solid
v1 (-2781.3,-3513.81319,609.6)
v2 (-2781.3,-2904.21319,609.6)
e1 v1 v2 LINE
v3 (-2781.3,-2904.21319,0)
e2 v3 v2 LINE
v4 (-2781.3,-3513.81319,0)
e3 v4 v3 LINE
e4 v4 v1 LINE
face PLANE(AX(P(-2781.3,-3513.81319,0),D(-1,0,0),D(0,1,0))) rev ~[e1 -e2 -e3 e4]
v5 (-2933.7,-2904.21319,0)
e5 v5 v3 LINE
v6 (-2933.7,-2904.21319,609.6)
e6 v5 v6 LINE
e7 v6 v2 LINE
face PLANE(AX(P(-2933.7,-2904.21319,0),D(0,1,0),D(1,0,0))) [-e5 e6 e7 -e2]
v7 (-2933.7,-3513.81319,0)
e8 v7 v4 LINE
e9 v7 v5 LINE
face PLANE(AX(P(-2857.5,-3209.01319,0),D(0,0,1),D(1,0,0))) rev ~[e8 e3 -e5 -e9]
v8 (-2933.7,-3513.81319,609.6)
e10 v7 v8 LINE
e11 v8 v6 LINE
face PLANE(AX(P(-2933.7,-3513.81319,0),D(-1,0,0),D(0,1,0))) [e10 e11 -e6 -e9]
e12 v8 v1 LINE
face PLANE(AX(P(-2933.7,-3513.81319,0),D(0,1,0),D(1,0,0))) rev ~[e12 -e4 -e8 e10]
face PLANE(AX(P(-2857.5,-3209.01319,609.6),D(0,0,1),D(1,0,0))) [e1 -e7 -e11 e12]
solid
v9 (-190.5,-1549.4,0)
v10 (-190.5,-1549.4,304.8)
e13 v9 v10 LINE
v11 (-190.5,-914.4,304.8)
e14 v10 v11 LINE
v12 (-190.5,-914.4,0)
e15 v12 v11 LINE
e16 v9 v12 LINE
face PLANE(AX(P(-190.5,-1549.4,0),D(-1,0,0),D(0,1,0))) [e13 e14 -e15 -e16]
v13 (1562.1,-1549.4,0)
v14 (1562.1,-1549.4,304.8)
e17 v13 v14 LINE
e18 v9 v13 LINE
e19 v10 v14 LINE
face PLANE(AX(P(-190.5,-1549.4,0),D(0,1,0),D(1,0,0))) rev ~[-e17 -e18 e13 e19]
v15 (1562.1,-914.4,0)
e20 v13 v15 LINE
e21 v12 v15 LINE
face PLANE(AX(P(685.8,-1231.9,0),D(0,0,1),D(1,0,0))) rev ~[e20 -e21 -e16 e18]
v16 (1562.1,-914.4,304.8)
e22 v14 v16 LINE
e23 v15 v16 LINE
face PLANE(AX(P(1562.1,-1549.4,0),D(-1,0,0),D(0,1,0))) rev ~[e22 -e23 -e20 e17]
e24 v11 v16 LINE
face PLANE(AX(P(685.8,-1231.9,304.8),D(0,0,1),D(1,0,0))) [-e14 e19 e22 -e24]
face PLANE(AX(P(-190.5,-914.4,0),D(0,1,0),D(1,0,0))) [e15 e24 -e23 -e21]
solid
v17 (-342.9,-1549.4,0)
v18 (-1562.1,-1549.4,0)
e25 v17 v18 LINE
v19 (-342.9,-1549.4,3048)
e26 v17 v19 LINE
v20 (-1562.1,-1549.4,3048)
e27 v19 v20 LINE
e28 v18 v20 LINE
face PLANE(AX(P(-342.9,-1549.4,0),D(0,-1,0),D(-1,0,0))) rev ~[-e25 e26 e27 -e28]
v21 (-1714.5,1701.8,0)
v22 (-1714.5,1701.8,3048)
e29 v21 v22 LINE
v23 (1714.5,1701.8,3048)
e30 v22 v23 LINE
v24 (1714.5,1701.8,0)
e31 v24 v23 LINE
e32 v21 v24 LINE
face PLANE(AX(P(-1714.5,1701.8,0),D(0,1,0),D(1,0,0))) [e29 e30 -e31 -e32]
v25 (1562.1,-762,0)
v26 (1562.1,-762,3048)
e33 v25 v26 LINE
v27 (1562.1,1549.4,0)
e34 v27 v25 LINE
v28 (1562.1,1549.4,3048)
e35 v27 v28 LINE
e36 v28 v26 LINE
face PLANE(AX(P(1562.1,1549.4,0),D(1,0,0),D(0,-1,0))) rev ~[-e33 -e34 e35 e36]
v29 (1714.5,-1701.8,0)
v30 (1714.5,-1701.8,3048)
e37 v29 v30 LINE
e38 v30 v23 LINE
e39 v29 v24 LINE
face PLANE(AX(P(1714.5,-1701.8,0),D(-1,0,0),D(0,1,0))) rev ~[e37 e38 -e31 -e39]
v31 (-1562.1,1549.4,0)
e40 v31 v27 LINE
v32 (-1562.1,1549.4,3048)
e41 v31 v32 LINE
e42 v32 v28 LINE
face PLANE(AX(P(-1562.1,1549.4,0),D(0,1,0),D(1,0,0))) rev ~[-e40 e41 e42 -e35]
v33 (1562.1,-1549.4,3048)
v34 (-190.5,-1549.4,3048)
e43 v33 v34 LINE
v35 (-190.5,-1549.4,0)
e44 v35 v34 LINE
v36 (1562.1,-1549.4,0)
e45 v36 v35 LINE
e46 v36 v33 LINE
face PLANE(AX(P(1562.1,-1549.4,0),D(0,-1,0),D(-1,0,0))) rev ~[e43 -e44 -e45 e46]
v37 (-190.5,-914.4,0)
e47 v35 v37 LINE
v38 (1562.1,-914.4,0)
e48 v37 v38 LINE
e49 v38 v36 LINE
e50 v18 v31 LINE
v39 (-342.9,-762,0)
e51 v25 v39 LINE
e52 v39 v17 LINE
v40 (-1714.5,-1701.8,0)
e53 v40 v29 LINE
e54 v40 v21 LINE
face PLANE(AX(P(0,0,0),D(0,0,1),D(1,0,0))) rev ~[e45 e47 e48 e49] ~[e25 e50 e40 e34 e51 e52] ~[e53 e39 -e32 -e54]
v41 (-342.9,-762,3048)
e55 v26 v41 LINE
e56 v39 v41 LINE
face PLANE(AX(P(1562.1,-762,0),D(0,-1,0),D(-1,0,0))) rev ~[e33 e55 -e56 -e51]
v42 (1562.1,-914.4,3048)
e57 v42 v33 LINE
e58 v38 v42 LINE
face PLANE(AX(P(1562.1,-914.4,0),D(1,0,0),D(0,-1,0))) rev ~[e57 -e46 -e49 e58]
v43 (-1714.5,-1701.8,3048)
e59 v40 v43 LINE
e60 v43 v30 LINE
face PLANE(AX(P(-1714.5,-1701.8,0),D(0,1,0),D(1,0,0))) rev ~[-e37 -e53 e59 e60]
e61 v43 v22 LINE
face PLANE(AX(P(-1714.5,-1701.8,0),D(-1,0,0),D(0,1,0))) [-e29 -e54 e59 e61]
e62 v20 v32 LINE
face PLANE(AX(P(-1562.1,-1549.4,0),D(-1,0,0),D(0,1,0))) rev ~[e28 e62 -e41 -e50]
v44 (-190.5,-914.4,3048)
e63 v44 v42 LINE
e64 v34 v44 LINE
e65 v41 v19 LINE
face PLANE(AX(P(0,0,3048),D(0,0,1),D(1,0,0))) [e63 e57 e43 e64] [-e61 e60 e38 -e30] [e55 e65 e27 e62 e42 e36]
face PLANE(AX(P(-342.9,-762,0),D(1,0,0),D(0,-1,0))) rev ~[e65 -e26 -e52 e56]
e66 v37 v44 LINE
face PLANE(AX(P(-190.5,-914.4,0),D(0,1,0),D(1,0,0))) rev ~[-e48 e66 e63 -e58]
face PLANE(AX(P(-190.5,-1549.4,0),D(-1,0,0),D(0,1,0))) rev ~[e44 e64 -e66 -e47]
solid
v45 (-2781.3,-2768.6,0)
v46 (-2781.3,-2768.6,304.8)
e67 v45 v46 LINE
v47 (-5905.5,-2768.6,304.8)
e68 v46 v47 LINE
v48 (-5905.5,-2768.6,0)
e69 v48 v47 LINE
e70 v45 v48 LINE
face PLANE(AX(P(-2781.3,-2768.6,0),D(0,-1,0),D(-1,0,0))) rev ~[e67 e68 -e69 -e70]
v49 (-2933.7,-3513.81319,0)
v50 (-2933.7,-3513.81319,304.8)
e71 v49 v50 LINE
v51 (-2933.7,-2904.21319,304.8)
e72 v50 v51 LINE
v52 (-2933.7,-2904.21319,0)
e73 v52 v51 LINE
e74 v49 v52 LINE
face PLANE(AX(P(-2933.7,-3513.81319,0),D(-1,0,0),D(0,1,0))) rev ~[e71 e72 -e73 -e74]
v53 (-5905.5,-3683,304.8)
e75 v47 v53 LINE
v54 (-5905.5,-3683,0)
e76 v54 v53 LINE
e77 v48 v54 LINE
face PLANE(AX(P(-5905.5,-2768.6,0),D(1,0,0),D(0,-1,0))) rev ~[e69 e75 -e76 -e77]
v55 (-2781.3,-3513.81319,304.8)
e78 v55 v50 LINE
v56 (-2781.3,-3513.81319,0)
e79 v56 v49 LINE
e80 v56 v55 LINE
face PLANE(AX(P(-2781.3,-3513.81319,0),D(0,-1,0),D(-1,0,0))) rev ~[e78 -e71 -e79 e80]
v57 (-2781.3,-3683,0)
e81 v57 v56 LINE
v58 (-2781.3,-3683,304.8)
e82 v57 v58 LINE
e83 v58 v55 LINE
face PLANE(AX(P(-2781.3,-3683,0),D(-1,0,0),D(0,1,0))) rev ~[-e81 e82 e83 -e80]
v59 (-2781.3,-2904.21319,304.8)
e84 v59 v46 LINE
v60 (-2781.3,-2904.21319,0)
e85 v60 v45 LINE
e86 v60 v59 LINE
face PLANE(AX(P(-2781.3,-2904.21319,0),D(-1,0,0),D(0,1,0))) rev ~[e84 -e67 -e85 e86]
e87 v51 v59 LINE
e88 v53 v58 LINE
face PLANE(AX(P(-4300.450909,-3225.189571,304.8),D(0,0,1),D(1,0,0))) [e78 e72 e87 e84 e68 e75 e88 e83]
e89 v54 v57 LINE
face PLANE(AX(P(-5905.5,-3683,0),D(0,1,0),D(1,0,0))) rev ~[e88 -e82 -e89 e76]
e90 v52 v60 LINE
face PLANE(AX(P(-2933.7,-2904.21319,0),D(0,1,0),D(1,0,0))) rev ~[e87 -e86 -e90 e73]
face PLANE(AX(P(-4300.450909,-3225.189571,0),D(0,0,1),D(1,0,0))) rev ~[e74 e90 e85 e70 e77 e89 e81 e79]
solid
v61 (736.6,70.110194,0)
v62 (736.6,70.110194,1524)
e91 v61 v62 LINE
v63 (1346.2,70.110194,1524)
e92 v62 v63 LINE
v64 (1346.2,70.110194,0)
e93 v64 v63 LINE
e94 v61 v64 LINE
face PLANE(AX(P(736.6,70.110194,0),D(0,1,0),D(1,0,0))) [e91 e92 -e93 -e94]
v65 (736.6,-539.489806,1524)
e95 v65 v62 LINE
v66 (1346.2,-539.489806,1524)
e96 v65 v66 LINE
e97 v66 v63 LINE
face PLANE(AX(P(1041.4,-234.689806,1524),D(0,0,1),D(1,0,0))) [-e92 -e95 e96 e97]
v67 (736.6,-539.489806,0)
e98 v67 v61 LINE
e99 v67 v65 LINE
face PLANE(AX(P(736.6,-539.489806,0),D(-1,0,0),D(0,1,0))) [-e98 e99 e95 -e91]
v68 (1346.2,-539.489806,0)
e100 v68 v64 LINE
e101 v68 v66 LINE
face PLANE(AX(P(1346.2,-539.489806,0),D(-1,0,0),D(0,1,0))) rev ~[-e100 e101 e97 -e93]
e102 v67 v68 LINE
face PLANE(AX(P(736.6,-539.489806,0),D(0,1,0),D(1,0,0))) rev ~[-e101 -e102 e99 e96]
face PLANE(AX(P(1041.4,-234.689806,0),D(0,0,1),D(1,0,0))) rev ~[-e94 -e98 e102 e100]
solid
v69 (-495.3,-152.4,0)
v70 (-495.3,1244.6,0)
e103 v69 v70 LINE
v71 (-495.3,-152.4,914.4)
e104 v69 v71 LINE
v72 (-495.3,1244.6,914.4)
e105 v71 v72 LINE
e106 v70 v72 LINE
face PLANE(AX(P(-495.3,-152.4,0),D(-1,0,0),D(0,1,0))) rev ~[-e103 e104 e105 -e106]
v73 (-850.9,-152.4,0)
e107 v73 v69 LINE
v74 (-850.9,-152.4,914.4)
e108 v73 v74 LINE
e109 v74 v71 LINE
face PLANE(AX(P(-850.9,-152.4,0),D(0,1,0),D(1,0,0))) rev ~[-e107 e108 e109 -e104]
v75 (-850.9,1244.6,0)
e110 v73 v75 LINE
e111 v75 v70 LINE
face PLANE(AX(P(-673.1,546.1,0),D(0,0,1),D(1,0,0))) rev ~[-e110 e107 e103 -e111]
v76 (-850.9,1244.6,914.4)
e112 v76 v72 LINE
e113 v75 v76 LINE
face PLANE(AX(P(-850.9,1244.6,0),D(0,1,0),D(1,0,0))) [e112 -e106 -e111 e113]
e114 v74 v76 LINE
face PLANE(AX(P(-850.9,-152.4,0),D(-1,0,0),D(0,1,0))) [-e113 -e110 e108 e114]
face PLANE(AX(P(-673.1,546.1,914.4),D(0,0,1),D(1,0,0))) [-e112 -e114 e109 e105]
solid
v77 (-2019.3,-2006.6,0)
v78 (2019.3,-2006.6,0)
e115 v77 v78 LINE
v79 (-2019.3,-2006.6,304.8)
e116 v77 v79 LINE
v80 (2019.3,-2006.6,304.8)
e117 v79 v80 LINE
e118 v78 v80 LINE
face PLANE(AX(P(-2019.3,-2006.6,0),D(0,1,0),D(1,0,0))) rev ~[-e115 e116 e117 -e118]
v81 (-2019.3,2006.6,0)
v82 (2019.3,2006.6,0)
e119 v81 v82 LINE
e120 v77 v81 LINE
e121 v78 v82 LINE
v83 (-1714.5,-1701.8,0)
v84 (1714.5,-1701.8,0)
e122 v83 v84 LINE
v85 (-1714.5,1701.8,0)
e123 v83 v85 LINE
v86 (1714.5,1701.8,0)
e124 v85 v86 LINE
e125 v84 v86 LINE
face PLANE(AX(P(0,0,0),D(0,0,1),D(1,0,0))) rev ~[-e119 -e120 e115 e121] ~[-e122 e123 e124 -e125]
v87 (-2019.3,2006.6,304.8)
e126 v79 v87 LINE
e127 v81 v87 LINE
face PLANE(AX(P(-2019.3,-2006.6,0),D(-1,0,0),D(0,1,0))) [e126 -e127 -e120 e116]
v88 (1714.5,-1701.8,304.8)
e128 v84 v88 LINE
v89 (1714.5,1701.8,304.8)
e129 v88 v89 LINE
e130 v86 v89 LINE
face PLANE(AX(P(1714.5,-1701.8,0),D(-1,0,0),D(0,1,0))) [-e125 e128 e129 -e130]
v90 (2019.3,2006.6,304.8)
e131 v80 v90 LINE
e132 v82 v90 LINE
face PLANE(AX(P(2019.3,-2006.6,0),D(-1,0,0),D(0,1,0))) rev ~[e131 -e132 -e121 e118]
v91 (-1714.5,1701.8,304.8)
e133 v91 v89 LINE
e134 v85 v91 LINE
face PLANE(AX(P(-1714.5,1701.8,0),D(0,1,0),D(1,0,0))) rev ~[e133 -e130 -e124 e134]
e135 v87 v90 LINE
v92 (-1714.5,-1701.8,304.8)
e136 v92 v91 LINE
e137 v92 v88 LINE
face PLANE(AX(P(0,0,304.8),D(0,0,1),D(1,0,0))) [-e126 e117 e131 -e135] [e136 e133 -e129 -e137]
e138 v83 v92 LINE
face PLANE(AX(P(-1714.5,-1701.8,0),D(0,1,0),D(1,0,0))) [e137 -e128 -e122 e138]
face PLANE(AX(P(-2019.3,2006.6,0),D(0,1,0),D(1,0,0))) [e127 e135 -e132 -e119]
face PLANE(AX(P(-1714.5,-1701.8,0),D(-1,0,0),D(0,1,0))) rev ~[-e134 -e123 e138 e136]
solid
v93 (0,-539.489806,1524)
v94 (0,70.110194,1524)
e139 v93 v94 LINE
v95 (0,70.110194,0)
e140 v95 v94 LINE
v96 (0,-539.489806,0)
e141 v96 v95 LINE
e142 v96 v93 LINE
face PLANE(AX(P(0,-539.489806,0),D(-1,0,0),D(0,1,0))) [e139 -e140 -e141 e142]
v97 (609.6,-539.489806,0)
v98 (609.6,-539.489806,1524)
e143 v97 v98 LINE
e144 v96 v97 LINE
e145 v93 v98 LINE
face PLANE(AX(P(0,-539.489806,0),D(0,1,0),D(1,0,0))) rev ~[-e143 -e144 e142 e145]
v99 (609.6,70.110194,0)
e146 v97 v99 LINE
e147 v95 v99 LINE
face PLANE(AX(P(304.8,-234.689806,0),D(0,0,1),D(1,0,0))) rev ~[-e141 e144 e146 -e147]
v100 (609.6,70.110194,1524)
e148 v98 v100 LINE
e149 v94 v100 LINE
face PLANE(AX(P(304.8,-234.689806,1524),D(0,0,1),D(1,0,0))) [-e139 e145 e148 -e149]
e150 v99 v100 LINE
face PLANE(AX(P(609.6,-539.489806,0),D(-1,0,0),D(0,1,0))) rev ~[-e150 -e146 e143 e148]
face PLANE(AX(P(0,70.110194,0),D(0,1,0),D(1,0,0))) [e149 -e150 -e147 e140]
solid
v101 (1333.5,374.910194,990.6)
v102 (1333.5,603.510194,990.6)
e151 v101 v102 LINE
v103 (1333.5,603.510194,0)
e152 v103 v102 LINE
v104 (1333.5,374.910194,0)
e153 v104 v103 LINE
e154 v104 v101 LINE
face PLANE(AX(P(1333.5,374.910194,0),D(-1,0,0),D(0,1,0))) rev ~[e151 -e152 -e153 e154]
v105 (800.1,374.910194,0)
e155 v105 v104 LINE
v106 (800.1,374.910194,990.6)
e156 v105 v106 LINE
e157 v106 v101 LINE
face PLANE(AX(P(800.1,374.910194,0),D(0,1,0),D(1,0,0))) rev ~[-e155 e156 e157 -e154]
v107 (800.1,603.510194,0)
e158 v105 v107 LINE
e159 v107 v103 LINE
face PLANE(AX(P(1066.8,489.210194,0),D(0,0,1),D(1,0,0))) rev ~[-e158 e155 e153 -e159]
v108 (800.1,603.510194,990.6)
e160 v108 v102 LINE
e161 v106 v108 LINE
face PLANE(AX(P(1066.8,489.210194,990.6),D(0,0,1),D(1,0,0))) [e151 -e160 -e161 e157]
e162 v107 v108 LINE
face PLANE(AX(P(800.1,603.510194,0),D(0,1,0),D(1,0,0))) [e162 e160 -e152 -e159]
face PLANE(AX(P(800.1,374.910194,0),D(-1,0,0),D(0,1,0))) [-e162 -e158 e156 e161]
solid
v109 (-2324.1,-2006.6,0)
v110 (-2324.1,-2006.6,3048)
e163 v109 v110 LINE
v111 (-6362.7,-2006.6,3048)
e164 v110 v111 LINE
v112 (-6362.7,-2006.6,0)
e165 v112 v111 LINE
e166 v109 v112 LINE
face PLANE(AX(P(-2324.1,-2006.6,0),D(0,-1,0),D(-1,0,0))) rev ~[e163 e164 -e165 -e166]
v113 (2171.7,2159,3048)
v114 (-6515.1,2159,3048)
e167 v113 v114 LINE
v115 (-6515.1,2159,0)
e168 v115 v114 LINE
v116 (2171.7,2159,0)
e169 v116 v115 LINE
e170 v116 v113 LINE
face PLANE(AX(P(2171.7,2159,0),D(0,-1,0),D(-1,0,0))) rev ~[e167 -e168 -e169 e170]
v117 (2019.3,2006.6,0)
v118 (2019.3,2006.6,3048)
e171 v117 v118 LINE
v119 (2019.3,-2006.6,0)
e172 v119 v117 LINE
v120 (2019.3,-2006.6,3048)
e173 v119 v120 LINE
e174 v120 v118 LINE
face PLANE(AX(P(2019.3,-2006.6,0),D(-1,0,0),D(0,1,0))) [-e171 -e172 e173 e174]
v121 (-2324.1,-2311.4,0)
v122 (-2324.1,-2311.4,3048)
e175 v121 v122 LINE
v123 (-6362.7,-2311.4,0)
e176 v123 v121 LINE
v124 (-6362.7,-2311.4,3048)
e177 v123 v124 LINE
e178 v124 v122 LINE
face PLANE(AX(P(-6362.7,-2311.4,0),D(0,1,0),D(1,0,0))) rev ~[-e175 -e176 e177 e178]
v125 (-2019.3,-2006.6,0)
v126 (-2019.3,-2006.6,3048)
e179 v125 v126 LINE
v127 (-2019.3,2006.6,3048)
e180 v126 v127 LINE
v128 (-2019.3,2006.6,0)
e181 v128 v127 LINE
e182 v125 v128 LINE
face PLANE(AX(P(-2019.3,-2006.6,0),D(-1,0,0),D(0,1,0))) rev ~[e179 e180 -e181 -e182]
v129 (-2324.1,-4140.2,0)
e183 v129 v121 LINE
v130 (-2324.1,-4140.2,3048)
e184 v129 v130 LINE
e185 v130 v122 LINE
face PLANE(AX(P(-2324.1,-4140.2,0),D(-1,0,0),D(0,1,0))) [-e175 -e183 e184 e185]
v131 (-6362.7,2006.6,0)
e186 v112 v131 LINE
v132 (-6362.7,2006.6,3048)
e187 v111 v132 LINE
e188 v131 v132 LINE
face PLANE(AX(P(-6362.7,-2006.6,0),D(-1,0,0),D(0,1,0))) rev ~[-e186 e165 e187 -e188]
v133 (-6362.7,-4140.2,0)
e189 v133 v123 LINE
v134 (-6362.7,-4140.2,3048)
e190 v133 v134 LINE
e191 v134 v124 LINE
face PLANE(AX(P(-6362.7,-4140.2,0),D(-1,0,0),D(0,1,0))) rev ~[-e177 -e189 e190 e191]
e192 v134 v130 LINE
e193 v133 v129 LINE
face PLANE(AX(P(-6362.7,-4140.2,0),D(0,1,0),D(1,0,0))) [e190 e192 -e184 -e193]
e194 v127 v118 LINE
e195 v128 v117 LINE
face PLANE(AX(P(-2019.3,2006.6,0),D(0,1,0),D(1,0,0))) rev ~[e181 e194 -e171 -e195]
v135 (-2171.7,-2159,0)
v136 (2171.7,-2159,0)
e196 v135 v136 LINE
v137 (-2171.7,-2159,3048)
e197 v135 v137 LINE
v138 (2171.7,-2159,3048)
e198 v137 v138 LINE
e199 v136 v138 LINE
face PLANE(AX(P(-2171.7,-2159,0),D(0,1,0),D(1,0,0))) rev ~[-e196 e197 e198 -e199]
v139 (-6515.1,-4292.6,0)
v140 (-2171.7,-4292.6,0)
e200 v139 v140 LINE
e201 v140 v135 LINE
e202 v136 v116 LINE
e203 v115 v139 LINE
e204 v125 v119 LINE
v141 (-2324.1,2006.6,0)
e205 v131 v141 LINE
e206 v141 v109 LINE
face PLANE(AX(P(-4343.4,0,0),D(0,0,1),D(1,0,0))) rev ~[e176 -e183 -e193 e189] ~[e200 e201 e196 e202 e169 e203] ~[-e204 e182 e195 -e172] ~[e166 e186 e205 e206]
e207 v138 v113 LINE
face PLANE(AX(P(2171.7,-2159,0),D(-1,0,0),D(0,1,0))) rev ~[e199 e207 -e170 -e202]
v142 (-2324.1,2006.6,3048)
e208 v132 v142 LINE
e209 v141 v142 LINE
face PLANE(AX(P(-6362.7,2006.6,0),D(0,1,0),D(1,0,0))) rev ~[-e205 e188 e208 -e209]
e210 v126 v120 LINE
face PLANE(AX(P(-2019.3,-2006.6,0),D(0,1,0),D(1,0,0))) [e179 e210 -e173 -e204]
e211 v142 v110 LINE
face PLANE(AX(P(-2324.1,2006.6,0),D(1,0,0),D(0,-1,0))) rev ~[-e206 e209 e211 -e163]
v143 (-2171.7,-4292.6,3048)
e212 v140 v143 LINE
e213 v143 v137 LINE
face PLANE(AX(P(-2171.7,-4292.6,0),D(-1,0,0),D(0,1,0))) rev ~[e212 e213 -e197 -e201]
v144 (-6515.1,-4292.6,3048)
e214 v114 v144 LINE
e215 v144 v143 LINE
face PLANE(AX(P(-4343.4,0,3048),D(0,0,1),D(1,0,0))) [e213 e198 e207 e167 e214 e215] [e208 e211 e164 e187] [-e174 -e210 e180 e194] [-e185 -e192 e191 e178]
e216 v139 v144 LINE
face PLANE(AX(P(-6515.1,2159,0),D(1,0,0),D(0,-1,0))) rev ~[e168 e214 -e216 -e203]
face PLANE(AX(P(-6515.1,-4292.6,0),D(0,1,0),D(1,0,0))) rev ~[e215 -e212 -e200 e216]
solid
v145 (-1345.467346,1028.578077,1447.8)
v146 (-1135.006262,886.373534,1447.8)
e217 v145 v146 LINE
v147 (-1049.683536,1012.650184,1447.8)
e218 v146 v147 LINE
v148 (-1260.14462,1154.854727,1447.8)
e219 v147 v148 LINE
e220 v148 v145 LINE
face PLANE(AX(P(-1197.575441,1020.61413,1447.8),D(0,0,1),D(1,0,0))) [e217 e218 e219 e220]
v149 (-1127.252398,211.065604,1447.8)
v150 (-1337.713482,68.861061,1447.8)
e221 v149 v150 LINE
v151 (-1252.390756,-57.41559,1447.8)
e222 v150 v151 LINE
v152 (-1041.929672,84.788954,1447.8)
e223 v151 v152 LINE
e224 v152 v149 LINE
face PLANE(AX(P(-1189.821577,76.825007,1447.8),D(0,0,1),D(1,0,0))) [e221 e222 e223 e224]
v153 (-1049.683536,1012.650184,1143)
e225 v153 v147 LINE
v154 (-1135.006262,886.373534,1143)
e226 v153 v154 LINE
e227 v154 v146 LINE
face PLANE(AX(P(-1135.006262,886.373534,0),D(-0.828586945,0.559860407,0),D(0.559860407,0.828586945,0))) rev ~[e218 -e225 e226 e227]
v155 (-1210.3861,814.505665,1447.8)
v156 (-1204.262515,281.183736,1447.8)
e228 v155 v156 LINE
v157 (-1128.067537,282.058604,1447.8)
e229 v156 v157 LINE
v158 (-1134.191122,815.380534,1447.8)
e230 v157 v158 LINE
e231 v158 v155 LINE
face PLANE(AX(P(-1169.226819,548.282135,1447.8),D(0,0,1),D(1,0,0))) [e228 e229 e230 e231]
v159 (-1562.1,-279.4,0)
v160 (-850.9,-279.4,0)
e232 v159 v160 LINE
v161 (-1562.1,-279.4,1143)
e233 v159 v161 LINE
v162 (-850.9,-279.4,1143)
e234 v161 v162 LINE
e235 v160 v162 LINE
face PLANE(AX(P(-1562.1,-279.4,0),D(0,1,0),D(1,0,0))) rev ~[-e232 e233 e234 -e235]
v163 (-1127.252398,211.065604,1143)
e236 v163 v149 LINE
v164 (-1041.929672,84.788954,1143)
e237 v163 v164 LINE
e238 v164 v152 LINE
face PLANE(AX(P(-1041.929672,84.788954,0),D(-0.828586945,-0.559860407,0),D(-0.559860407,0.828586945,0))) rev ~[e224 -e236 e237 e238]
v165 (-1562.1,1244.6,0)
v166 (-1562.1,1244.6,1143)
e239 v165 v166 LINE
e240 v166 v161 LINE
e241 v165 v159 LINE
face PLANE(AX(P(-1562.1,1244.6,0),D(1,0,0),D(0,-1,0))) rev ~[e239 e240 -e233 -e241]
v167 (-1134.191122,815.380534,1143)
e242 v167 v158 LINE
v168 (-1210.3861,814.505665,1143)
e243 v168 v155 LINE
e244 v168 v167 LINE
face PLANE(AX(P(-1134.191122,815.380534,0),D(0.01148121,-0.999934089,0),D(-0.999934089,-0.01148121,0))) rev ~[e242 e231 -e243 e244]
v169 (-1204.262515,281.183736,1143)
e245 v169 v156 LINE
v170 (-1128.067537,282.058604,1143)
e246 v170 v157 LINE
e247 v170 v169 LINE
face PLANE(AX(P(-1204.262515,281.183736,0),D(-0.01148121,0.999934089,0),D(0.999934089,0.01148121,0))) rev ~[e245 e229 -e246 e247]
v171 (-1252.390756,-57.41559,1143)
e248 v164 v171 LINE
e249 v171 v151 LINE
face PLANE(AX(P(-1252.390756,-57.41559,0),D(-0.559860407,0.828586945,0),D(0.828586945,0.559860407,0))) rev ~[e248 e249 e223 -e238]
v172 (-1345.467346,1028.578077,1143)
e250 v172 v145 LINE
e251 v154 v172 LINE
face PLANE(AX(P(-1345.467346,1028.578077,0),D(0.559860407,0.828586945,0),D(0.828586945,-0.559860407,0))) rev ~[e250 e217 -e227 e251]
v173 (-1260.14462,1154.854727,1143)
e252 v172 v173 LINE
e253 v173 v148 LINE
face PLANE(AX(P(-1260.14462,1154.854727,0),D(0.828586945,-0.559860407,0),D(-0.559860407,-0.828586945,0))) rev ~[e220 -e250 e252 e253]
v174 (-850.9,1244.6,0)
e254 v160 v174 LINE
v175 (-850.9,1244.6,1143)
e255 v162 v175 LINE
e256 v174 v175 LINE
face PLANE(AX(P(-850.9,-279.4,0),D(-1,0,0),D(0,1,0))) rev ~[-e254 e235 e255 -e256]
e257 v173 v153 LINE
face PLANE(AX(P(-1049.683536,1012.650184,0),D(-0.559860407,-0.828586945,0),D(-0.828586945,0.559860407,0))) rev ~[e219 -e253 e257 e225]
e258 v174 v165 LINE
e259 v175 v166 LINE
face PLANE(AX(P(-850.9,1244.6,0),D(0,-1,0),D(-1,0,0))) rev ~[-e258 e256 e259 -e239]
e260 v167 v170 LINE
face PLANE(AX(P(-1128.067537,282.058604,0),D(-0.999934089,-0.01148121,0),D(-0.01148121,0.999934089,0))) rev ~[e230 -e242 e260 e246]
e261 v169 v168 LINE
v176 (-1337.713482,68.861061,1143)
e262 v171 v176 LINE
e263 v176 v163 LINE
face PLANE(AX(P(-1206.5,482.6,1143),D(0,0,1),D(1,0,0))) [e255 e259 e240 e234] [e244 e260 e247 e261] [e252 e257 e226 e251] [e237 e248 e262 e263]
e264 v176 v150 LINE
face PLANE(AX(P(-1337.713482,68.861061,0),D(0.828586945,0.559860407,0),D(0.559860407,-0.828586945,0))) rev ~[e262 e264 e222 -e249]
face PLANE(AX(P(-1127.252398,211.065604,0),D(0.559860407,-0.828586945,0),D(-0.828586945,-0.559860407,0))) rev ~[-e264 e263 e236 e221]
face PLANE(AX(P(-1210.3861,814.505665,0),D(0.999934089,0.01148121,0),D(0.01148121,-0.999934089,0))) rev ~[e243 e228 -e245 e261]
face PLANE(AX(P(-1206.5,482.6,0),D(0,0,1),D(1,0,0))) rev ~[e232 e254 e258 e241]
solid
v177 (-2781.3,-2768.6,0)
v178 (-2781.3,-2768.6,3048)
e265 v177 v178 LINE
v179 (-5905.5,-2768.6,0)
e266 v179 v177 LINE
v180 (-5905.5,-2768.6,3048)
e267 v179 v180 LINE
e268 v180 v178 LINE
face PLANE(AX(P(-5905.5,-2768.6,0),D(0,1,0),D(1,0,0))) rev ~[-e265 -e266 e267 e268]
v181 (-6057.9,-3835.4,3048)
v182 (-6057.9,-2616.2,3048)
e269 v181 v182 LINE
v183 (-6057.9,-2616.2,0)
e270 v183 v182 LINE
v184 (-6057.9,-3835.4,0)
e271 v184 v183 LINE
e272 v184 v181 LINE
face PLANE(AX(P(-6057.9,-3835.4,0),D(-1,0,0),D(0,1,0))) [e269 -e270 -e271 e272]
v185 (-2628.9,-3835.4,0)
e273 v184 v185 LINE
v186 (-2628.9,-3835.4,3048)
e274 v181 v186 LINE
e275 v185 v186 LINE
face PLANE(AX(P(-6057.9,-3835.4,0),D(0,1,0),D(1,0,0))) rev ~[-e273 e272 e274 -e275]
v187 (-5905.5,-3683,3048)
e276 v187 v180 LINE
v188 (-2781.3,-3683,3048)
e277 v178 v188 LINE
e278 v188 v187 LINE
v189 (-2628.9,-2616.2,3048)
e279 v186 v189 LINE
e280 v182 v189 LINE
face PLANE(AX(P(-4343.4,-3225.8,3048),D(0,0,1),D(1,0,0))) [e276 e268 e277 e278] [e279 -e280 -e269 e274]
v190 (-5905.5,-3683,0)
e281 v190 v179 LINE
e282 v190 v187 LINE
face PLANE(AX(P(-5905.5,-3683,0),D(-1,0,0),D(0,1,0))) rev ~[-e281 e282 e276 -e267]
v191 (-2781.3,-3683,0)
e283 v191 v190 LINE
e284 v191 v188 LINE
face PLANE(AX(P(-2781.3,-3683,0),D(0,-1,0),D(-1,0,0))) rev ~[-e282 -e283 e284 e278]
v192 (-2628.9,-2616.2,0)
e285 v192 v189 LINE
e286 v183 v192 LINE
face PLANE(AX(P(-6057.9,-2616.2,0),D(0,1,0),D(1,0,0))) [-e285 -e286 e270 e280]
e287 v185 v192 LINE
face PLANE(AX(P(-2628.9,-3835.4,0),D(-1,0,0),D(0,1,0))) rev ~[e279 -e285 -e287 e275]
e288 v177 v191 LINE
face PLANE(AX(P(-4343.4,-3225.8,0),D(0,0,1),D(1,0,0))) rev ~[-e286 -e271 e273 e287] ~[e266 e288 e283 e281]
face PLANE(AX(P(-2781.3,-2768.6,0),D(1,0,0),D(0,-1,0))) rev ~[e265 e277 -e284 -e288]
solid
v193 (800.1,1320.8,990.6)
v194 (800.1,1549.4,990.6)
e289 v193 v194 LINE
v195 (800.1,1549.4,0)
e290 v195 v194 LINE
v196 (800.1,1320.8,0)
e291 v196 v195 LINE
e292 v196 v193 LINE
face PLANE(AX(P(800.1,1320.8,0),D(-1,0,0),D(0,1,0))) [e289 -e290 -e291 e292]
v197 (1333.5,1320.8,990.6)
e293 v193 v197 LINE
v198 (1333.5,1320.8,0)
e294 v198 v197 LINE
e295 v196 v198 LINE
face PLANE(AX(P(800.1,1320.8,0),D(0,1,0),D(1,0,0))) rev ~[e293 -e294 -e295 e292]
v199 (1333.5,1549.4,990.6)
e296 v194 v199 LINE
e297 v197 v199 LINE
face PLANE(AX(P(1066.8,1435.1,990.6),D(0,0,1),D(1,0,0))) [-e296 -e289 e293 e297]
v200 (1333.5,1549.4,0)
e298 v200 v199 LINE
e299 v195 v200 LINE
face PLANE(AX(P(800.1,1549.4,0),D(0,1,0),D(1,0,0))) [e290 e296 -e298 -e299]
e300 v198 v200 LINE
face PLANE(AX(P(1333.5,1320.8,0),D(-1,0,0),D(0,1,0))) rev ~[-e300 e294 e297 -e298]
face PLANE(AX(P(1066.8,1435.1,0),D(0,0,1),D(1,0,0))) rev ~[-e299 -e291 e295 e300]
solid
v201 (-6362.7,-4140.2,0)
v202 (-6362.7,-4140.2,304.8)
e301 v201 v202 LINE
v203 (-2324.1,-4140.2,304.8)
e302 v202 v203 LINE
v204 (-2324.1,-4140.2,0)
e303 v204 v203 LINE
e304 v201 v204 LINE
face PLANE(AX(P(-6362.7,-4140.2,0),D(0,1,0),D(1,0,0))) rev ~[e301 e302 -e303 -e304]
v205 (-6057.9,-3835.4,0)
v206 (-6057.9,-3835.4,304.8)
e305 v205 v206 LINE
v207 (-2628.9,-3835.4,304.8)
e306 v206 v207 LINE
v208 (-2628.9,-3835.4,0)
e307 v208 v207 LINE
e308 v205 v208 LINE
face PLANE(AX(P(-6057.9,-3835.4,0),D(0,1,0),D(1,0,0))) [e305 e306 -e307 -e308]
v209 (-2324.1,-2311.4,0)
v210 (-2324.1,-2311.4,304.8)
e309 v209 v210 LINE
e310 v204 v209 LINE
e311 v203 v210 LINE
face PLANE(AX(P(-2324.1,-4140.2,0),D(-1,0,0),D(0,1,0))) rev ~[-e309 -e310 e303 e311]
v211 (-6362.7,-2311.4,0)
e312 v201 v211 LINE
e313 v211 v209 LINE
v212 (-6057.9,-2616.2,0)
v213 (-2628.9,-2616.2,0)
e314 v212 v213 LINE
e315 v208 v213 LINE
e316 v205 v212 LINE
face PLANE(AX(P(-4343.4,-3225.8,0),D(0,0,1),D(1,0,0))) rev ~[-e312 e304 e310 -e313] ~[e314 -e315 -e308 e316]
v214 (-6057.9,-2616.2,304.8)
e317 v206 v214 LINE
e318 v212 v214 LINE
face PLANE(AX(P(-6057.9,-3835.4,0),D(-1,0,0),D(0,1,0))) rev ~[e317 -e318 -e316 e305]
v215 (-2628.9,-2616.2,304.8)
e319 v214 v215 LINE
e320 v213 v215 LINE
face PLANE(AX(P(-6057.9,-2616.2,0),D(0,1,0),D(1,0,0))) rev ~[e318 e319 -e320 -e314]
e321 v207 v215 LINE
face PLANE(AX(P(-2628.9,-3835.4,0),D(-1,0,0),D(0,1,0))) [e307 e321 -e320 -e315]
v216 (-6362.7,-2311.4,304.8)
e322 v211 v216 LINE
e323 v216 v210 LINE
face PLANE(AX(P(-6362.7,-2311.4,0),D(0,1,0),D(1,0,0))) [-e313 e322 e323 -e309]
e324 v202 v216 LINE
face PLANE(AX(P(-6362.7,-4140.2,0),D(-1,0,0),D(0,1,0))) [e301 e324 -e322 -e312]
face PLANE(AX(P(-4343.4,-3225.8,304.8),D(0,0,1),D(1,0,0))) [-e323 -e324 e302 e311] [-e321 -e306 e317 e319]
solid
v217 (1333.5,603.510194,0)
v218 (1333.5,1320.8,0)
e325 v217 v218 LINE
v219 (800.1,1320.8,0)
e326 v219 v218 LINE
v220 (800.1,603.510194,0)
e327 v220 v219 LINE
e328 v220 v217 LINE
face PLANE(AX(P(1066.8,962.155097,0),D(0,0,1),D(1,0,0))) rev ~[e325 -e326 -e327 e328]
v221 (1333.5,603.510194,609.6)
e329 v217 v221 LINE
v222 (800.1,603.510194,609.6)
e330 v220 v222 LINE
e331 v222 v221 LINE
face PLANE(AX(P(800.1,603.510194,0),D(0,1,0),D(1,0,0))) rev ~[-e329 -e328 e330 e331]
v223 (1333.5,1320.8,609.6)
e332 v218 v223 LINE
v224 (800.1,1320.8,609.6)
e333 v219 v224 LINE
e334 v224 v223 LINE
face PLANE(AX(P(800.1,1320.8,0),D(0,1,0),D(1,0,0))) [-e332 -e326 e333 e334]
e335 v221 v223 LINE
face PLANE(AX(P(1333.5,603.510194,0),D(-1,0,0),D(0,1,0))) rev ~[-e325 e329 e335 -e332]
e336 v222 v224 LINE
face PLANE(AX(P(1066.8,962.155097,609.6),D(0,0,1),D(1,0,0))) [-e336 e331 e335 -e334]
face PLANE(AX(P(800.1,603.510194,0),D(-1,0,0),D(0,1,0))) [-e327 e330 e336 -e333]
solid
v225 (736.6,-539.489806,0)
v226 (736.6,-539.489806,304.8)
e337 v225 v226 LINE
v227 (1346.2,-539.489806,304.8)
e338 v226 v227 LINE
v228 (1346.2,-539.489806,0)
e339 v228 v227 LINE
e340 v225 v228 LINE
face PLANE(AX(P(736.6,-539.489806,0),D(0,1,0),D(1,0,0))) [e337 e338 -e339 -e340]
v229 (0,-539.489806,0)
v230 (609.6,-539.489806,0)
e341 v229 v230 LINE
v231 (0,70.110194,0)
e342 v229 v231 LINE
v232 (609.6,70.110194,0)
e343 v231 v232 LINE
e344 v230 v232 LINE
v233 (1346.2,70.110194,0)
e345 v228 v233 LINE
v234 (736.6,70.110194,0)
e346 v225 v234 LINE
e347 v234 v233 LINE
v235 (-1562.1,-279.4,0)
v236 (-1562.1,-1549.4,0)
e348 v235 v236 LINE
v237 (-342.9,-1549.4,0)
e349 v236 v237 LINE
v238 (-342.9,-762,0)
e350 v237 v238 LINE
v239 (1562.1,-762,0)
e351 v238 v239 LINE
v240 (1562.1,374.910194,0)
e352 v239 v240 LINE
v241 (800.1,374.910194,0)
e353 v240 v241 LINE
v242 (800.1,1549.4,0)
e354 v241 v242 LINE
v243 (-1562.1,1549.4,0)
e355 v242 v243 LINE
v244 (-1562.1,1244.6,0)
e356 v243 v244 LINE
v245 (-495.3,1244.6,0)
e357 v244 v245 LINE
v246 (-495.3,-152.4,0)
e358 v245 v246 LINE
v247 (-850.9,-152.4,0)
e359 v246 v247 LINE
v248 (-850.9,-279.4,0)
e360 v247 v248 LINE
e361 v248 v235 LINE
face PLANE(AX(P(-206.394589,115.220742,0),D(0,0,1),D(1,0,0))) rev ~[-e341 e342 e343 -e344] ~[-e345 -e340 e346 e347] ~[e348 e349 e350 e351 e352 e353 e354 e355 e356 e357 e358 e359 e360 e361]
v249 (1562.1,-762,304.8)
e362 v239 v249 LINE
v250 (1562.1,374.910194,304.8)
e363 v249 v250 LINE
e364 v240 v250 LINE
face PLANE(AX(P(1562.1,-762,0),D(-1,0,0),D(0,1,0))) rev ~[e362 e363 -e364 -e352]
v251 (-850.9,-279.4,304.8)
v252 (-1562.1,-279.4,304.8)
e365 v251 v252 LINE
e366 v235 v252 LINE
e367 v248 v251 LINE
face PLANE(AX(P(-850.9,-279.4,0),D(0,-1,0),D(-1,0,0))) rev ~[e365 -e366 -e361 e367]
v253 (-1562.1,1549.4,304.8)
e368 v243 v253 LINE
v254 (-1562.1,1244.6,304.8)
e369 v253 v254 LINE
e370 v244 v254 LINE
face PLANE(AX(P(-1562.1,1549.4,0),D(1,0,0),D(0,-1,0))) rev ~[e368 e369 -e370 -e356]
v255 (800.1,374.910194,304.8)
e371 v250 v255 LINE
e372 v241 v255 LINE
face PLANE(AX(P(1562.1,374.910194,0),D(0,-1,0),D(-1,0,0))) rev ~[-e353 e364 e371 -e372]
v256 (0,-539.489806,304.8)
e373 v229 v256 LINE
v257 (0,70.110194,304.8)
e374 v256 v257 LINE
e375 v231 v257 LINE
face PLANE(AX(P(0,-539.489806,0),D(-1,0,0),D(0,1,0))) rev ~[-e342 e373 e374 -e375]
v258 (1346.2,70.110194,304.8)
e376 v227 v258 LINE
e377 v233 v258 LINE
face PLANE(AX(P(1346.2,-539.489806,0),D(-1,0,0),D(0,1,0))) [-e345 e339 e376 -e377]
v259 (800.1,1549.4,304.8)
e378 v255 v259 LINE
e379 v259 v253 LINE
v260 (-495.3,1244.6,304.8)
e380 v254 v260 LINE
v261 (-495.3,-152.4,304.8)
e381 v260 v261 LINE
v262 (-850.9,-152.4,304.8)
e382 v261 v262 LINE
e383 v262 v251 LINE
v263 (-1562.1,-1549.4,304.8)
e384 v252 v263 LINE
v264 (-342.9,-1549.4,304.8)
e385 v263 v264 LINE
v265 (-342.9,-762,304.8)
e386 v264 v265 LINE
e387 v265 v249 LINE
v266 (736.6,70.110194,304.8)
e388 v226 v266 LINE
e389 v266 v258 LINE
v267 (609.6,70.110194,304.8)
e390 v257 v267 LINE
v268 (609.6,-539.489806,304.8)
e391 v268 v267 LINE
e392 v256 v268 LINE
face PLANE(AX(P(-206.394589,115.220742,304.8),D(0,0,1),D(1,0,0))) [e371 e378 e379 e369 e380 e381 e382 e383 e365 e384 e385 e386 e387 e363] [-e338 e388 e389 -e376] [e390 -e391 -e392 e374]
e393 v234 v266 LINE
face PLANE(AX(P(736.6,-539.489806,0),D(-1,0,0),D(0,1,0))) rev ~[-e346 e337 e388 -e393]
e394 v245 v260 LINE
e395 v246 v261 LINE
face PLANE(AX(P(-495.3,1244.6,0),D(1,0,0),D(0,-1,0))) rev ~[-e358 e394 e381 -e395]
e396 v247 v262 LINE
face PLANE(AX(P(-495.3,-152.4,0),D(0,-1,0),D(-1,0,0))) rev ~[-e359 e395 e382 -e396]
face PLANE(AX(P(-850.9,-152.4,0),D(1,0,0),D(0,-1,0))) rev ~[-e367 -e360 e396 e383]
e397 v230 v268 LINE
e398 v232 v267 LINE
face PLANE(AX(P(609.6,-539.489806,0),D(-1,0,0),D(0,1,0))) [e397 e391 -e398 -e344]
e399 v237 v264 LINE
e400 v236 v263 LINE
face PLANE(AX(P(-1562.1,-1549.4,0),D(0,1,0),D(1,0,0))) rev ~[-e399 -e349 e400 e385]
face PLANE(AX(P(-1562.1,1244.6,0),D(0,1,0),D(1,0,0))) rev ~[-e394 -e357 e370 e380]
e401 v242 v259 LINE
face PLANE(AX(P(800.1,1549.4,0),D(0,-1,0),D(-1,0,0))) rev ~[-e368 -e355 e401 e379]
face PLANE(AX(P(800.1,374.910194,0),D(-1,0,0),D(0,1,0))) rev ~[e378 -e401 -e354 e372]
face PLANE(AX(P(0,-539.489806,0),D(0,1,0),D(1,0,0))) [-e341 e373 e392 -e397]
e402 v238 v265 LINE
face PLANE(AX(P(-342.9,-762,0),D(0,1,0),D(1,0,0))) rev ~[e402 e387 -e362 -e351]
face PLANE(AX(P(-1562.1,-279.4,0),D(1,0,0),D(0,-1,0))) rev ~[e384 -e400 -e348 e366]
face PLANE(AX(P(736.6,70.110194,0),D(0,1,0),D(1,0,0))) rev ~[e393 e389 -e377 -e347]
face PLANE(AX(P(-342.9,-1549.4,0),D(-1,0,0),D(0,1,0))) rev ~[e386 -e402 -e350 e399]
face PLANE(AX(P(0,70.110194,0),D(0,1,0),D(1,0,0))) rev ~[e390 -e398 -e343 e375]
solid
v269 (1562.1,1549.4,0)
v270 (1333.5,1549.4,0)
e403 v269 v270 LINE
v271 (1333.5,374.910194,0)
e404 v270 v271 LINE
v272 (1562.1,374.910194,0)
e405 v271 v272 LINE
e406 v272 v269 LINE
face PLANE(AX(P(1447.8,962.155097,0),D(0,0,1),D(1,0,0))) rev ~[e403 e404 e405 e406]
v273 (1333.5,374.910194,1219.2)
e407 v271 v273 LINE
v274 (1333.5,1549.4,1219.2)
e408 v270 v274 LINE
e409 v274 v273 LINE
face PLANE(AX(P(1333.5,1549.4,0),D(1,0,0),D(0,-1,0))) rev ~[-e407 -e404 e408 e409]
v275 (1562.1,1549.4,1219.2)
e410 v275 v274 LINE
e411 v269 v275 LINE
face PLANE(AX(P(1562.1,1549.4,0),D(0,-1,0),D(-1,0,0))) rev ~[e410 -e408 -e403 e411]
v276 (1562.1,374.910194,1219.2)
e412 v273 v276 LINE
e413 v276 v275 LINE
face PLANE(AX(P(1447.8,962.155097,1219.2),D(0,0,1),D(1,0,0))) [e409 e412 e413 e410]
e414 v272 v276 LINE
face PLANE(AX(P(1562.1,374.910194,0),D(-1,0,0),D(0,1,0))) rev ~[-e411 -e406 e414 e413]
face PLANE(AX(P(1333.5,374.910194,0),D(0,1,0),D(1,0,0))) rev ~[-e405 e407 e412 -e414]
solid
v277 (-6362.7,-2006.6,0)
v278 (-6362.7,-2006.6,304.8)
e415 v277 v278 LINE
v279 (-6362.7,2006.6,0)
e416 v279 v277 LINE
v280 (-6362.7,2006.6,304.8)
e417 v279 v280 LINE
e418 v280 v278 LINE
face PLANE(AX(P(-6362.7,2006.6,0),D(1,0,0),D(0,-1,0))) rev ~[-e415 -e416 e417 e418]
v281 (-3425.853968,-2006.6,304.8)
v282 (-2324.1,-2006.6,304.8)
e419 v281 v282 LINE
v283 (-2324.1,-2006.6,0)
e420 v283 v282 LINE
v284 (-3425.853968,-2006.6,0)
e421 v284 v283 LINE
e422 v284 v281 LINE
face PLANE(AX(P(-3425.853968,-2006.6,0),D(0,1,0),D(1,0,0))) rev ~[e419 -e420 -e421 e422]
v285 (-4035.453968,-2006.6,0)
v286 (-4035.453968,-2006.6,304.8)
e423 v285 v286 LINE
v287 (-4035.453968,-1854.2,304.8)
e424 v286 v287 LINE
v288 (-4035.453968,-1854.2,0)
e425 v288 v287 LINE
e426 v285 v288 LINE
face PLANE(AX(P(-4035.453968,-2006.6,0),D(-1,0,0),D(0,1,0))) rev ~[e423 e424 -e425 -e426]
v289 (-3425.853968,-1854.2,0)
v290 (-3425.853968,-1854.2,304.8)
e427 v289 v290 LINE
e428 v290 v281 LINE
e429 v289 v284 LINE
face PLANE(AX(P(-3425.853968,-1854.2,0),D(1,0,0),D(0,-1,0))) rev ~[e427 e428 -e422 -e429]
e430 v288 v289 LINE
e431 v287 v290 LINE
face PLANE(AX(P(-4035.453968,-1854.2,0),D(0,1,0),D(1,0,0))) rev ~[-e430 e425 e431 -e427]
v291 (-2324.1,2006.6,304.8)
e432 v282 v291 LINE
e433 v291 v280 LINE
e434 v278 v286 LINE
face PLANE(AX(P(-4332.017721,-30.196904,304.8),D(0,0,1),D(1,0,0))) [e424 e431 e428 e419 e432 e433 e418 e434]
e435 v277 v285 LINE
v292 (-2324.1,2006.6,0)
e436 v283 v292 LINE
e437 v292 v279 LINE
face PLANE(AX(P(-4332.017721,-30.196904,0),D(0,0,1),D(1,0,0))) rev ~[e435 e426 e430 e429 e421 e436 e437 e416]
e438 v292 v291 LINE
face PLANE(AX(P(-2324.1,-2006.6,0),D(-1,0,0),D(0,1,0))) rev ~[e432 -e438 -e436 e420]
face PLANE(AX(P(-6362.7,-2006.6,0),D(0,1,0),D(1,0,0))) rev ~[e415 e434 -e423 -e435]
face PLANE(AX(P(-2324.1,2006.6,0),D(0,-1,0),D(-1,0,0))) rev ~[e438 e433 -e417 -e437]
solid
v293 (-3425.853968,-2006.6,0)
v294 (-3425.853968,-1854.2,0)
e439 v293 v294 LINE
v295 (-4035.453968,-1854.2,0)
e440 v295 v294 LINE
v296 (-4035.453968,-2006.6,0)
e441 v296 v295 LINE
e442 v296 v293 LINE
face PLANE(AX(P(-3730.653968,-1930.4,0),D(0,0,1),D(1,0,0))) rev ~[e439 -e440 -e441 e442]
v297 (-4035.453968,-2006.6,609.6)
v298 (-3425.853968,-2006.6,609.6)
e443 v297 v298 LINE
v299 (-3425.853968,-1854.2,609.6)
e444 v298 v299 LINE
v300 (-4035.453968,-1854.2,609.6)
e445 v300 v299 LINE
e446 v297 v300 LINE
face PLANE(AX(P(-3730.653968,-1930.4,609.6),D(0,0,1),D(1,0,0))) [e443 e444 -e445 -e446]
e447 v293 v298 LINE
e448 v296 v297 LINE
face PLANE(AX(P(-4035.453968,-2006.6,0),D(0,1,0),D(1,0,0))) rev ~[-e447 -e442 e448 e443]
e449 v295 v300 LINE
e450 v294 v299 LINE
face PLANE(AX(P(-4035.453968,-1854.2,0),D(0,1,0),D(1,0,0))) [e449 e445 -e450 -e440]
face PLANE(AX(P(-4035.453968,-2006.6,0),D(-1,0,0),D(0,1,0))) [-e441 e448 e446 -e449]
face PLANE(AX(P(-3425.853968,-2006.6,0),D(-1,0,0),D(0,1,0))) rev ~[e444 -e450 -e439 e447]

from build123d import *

# Parameters (mm, degrees)
F0_W      = 4343.4
F0_H      = 4318
F0_H_2    = 2133.6
F0_W_2    = 4038.6
F0_H_3    = 1828.8
F0_H_4    = 4013.2
F1_DEPTH  = 3048
F0_W_3    = 3429
F0_H_5    = 1219.2
F0_H_6    = 3403.6
F0_W_4    = 533.4
F0_H_7    = 228.6
F2_DEPTH  = 990.6
F0_H_8    = 717.2898056984
F3_DEPTH  = 609.6
F0_W_5    = 609.6
F0_H_9    = 609.6
F4_DEPTH  = 1524
F0_W_6    = 355.6
F0_H_10   = 1397
F5_DEPTH  = 914.4
F6_DEPTH  = 1143
F7_DEPTH  = 1447.8
F8_DEPTH  = 1219.2
F9_DEPTH  = 304.8
F0_W_7    = 1752.6
F0_H_11   = 635
F0_H_12   = 152.4
F10_DEPTH = 609.6
F0_W_8    = 152.4


with BuildPart() as f1:
    # F0 (on Top) → F1 (new body)
    with BuildSketch(Plane.XY):
        with Locations((-4343.4, 0)):
            Rectangle(F0_W, F0_H)
        Polygon((-6362.7, -2006.6), (-6362.7, 2006.6), (-2324.1, 2006.6), (-2324.1, -2006.6), (-3425.8539676666, -2006.6), (-4035.4539676666, -2006.6), align=None, mode=Mode.SUBTRACT)
        with Locations((-4343.4, -3225.8)):
            Rectangle(F0_W, F0_H_2)
        with Locations((-4343.4, -3225.8)):
            Rectangle(F0_W_2, F0_H_3, mode=Mode.SUBTRACT)
        Rectangle(F0_W, F0_H)
        Rectangle(F0_W_2, F0_H_4, mode=Mode.SUBTRACT)
    extrude(amount=F1_DEPTH)


with BuildPart() as f1b:
    # F0 (on Top) → F1, piece 2 (new body)
    with BuildSketch(Plane.XY):
        with Locations((-4343.4, -3225.8)):
            Rectangle(F0_W_3, F0_H_5)
        Polygon((-5905.5, -2768.6), (-2781.3, -2768.6), (-2781.3, -2904.2131900787), (-2781.3, -3513.8131900787), (-2781.3, -3683), (-5905.5, -3683), align=None, mode=Mode.SUBTRACT)
    extrude(amount=F1_DEPTH)


with BuildPart() as f1c:
    # F0 (on Top) → F1, piece 3 (new body)
    with BuildSketch(Plane.XY):
        Rectangle(F0_W_3, F0_H_6)
        Polygon((1333.5, 1549.4), (1562.1, 1549.4), (1562.1, 374.9101943016), (1562.1, -762), (1562.1, -914.4), (1562.1, -1549.4), (-190.5, -1549.4), (-342.9, -1549.4), (-1562.1, -1549.4), (-1562.1, -279.4), (-1562.1, 1244.6), (-1562.1, 1549.4), (800.1, 1549.4), align=None, mode=Mode.SUBTRACT)
        Polygon((1562.1, -914.4), (1562.1, -762), (-342.9, -762), (-342.9, -1549.4), (-190.5, -1549.4), (-190.5, -914.4), align=None)
    extrude(amount=F1_DEPTH)


with BuildPart() as f2:
    # F0 (on Top) → F2 (new body)
    with BuildSketch(Plane.XY):
        with Locations((1066.8, 1435.1)):
            Rectangle(F0_W_4, F0_H_7)
    extrude(amount=F2_DEPTH)


with BuildPart() as f2b:
    # F0 (on Top) → F2, piece 2 (new body)
    with BuildSketch(Plane.XY):
        with Locations((1066.8, 489.2101943016)):
            Rectangle(F0_W_4, F0_H_7)
    extrude(amount=F2_DEPTH)


with BuildPart() as f3:
    # F0 (on Top) → F3 (new body)
    with BuildSketch(Plane.XY):
        with Locations((1066.8, 962.1550971508)):
            Rectangle(F0_W_4, F0_H_8)
    extrude(amount=F3_DEPTH)


with BuildPart() as f4:
    # F0 (on Top) → F4 (new body)
    with BuildSketch(Plane.XY):
        with Locations((304.8, -234.6898056984)):
            Rectangle(F0_W_5, F0_H_9)
    extrude(amount=F4_DEPTH)


with BuildPart() as f4b:
    # F0 (on Top) → F4, piece 2 (new body)
    with BuildSketch(Plane.XY):
        with Locations((1041.4, -234.6898056984)):
            Rectangle(F0_W_5, F0_H_9)
    extrude(amount=F4_DEPTH)


with BuildPart() as f5:
    # F0 (on Top) → F5 (new body)
    with BuildSketch(Plane.XY):
        with Locations((-673.1, 546.1)):
            Rectangle(F0_W_6, F0_H_10)
    extrude(amount=F5_DEPTH)


with BuildPart() as f6:
    # F0 (on Top) → F6 (new body)
    with BuildSketch(Plane.XY):
        Polygon((-850.9, 1244.6), (-1562.1, 1244.6), (-1562.1, -279.4), (-850.9, -279.4), (-850.9, -152.4), align=None)
        Polygon((-1127.2523981686, 211.0656040807), (-1041.9296722146, 84.7889536825), (-1252.3907562116, -57.4155895741), (-1337.7134821655, 68.8610608241), align=None, mode=Mode.SUBTRACT)
        Polygon((-1210.3860998574, 814.505665424), (-1134.1911222959, 815.380533648), (-1128.0675374575, 282.0586040807), (-1204.2625150189, 281.1837358567), align=None, mode=Mode.SUBTRACT)
        Polygon((-1260.1446196279, 1154.8547273028), (-1049.6835356309, 1012.6501840462), (-1135.0062615849, 886.373533648), (-1345.4673455818, 1028.5780769046), align=None, mode=Mode.SUBTRACT)
    extrude(amount=F6_DEPTH)

    # F0 (on Top) → F7 (join)
    with BuildSketch(Plane.XY):
        Polygon((-1135.0062615849, 886.373533648), (-1049.6835356309, 1012.6501840462), (-1260.1446196279, 1154.8547273028), (-1345.4673455818, 1028.5780769046), align=None)
        Polygon((-1128.0675374575, 282.0586040807), (-1134.1911222959, 815.380533648), (-1210.3860998574, 814.505665424), (-1204.2625150189, 281.1837358567), align=None)
        Polygon((-1252.3907562116, -57.4155895741), (-1041.9296722146, 84.7889536825), (-1127.2523981686, 211.0656040807), (-1337.7134821655, 68.8610608241), align=None)
    extrude(amount=F7_DEPTH)


with BuildPart() as f8:
    # F0 (on Top) → F8 (new body)
    with BuildSketch(Plane.XY):
        Polygon((1562.1, 374.9101943016), (1562.1, 1549.4), (1333.5, 1549.4), (1333.5, 1320.8), (1333.5, 603.5101943016), (1333.5, 374.9101943016), align=None)
    extrude(amount=F8_DEPTH)


with BuildPart() as f9:
    # F0 (on Top) → F9 (new body)
    with BuildSketch(Plane.XY):
        Polygon((1562.1, -762), (1562.1, 374.9101943016), (1333.5, 374.9101943016), (800.1, 374.9101943016), (800.1, 603.5101943016), (800.1, 1320.8), (800.1, 1549.4), (-1562.1, 1549.4), (-1562.1, 1244.6), (-850.9, 1244.6), (-495.3, 1244.6), (-495.3, -152.4), (-850.9, -152.4), (-850.9, -279.4), (-1562.1, -279.4), (-1562.1, -1549.4), (-342.9, -1549.4), (-342.9, -762), align=None)
        with Locations((304.8, -234.6898056984)):
            Rectangle(F0_W_5, F0_H_9, mode=Mode.SUBTRACT)
        with Locations((1041.4, -234.6898056984)):
            Rectangle(F0_W_5, F0_H_9, mode=Mode.SUBTRACT)
    extrude(amount=F9_DEPTH)


with BuildPart() as f9b:
    # F0 (on Top) → F9, piece 2 (new body)
    with BuildSketch(Plane.XY):
        with Locations((685.8, -1231.9)):
            Rectangle(F0_W_7, F0_H_11)
    extrude(amount=F9_DEPTH)


with BuildPart() as f9c:
    # F0 (on Top) → F9, piece 3 (new body)
    with BuildSketch(Plane.XY):
        Rectangle(F0_W_2, F0_H_4)
        Rectangle(F0_W_3, F0_H_6, mode=Mode.SUBTRACT)
    extrude(amount=F9_DEPTH)


with BuildPart() as f9d:
    # F0 (on Top) → F9, piece 4 (new body)
    with BuildSketch(Plane.XY):
        Polygon((-2324.1, 2006.6), (-6362.7, 2006.6), (-6362.7, -2006.6), (-4035.4539676666, -2006.6), (-4035.4539676666, -1854.2), (-3425.8539676666, -1854.2), (-3425.8539676666, -2006.6), (-2324.1, -2006.6), align=None)
    extrude(amount=F9_DEPTH)


with BuildPart() as f9e:
    # F0 (on Top) → F9, piece 5 (new body)
    with BuildSketch(Plane.XY):
        Polygon((-2781.3, -2904.2131900787), (-2781.3, -2768.6), (-5905.5, -2768.6), (-5905.5, -3683), (-2781.3, -3683), (-2781.3, -3513.8131900787), (-2933.7, -3513.8131900787), (-2933.7, -2904.2131900787), align=None)
    extrude(amount=F9_DEPTH)


with BuildPart() as f9f:
    # F0 (on Top) → F9, piece 6 (new body)
    with BuildSketch(Plane.XY):
        with Locations((-4343.4, -3225.8)):
            Rectangle(F0_W_2, F0_H_3)
        with Locations((-4343.4, -3225.8)):
            Rectangle(F0_W_3, F0_H_5, mode=Mode.SUBTRACT)
    extrude(amount=F9_DEPTH)


with BuildPart() as f10:
    # F0 (on Top) → F10 (new body)
    with BuildSketch(Plane.XY):
        with Locations((-3730.6539676666, -1930.4)):
            Rectangle(F0_W_5, F0_H_12)
    extrude(amount=F10_DEPTH)


with BuildPart() as f10b:
    # F0 (on Top) → F10, piece 2 (new body)
    with BuildSketch(Plane.XY):
        with Locations((-2857.5, -3209.0131900787)):
            Rectangle(F0_W_8, F0_H_9)
    extrude(amount=F10_DEPTH)


solid = Compound([f1.part, f1b.part, f1c.part, f2.part, f2b.part, f3.part, f4.part, f4b.part, f5.part, f6.part, f8.part, f9.part, f9b.part, f9c.part, f9d.part, f9e.part, f9f.part, f10.part, f10b.part])
